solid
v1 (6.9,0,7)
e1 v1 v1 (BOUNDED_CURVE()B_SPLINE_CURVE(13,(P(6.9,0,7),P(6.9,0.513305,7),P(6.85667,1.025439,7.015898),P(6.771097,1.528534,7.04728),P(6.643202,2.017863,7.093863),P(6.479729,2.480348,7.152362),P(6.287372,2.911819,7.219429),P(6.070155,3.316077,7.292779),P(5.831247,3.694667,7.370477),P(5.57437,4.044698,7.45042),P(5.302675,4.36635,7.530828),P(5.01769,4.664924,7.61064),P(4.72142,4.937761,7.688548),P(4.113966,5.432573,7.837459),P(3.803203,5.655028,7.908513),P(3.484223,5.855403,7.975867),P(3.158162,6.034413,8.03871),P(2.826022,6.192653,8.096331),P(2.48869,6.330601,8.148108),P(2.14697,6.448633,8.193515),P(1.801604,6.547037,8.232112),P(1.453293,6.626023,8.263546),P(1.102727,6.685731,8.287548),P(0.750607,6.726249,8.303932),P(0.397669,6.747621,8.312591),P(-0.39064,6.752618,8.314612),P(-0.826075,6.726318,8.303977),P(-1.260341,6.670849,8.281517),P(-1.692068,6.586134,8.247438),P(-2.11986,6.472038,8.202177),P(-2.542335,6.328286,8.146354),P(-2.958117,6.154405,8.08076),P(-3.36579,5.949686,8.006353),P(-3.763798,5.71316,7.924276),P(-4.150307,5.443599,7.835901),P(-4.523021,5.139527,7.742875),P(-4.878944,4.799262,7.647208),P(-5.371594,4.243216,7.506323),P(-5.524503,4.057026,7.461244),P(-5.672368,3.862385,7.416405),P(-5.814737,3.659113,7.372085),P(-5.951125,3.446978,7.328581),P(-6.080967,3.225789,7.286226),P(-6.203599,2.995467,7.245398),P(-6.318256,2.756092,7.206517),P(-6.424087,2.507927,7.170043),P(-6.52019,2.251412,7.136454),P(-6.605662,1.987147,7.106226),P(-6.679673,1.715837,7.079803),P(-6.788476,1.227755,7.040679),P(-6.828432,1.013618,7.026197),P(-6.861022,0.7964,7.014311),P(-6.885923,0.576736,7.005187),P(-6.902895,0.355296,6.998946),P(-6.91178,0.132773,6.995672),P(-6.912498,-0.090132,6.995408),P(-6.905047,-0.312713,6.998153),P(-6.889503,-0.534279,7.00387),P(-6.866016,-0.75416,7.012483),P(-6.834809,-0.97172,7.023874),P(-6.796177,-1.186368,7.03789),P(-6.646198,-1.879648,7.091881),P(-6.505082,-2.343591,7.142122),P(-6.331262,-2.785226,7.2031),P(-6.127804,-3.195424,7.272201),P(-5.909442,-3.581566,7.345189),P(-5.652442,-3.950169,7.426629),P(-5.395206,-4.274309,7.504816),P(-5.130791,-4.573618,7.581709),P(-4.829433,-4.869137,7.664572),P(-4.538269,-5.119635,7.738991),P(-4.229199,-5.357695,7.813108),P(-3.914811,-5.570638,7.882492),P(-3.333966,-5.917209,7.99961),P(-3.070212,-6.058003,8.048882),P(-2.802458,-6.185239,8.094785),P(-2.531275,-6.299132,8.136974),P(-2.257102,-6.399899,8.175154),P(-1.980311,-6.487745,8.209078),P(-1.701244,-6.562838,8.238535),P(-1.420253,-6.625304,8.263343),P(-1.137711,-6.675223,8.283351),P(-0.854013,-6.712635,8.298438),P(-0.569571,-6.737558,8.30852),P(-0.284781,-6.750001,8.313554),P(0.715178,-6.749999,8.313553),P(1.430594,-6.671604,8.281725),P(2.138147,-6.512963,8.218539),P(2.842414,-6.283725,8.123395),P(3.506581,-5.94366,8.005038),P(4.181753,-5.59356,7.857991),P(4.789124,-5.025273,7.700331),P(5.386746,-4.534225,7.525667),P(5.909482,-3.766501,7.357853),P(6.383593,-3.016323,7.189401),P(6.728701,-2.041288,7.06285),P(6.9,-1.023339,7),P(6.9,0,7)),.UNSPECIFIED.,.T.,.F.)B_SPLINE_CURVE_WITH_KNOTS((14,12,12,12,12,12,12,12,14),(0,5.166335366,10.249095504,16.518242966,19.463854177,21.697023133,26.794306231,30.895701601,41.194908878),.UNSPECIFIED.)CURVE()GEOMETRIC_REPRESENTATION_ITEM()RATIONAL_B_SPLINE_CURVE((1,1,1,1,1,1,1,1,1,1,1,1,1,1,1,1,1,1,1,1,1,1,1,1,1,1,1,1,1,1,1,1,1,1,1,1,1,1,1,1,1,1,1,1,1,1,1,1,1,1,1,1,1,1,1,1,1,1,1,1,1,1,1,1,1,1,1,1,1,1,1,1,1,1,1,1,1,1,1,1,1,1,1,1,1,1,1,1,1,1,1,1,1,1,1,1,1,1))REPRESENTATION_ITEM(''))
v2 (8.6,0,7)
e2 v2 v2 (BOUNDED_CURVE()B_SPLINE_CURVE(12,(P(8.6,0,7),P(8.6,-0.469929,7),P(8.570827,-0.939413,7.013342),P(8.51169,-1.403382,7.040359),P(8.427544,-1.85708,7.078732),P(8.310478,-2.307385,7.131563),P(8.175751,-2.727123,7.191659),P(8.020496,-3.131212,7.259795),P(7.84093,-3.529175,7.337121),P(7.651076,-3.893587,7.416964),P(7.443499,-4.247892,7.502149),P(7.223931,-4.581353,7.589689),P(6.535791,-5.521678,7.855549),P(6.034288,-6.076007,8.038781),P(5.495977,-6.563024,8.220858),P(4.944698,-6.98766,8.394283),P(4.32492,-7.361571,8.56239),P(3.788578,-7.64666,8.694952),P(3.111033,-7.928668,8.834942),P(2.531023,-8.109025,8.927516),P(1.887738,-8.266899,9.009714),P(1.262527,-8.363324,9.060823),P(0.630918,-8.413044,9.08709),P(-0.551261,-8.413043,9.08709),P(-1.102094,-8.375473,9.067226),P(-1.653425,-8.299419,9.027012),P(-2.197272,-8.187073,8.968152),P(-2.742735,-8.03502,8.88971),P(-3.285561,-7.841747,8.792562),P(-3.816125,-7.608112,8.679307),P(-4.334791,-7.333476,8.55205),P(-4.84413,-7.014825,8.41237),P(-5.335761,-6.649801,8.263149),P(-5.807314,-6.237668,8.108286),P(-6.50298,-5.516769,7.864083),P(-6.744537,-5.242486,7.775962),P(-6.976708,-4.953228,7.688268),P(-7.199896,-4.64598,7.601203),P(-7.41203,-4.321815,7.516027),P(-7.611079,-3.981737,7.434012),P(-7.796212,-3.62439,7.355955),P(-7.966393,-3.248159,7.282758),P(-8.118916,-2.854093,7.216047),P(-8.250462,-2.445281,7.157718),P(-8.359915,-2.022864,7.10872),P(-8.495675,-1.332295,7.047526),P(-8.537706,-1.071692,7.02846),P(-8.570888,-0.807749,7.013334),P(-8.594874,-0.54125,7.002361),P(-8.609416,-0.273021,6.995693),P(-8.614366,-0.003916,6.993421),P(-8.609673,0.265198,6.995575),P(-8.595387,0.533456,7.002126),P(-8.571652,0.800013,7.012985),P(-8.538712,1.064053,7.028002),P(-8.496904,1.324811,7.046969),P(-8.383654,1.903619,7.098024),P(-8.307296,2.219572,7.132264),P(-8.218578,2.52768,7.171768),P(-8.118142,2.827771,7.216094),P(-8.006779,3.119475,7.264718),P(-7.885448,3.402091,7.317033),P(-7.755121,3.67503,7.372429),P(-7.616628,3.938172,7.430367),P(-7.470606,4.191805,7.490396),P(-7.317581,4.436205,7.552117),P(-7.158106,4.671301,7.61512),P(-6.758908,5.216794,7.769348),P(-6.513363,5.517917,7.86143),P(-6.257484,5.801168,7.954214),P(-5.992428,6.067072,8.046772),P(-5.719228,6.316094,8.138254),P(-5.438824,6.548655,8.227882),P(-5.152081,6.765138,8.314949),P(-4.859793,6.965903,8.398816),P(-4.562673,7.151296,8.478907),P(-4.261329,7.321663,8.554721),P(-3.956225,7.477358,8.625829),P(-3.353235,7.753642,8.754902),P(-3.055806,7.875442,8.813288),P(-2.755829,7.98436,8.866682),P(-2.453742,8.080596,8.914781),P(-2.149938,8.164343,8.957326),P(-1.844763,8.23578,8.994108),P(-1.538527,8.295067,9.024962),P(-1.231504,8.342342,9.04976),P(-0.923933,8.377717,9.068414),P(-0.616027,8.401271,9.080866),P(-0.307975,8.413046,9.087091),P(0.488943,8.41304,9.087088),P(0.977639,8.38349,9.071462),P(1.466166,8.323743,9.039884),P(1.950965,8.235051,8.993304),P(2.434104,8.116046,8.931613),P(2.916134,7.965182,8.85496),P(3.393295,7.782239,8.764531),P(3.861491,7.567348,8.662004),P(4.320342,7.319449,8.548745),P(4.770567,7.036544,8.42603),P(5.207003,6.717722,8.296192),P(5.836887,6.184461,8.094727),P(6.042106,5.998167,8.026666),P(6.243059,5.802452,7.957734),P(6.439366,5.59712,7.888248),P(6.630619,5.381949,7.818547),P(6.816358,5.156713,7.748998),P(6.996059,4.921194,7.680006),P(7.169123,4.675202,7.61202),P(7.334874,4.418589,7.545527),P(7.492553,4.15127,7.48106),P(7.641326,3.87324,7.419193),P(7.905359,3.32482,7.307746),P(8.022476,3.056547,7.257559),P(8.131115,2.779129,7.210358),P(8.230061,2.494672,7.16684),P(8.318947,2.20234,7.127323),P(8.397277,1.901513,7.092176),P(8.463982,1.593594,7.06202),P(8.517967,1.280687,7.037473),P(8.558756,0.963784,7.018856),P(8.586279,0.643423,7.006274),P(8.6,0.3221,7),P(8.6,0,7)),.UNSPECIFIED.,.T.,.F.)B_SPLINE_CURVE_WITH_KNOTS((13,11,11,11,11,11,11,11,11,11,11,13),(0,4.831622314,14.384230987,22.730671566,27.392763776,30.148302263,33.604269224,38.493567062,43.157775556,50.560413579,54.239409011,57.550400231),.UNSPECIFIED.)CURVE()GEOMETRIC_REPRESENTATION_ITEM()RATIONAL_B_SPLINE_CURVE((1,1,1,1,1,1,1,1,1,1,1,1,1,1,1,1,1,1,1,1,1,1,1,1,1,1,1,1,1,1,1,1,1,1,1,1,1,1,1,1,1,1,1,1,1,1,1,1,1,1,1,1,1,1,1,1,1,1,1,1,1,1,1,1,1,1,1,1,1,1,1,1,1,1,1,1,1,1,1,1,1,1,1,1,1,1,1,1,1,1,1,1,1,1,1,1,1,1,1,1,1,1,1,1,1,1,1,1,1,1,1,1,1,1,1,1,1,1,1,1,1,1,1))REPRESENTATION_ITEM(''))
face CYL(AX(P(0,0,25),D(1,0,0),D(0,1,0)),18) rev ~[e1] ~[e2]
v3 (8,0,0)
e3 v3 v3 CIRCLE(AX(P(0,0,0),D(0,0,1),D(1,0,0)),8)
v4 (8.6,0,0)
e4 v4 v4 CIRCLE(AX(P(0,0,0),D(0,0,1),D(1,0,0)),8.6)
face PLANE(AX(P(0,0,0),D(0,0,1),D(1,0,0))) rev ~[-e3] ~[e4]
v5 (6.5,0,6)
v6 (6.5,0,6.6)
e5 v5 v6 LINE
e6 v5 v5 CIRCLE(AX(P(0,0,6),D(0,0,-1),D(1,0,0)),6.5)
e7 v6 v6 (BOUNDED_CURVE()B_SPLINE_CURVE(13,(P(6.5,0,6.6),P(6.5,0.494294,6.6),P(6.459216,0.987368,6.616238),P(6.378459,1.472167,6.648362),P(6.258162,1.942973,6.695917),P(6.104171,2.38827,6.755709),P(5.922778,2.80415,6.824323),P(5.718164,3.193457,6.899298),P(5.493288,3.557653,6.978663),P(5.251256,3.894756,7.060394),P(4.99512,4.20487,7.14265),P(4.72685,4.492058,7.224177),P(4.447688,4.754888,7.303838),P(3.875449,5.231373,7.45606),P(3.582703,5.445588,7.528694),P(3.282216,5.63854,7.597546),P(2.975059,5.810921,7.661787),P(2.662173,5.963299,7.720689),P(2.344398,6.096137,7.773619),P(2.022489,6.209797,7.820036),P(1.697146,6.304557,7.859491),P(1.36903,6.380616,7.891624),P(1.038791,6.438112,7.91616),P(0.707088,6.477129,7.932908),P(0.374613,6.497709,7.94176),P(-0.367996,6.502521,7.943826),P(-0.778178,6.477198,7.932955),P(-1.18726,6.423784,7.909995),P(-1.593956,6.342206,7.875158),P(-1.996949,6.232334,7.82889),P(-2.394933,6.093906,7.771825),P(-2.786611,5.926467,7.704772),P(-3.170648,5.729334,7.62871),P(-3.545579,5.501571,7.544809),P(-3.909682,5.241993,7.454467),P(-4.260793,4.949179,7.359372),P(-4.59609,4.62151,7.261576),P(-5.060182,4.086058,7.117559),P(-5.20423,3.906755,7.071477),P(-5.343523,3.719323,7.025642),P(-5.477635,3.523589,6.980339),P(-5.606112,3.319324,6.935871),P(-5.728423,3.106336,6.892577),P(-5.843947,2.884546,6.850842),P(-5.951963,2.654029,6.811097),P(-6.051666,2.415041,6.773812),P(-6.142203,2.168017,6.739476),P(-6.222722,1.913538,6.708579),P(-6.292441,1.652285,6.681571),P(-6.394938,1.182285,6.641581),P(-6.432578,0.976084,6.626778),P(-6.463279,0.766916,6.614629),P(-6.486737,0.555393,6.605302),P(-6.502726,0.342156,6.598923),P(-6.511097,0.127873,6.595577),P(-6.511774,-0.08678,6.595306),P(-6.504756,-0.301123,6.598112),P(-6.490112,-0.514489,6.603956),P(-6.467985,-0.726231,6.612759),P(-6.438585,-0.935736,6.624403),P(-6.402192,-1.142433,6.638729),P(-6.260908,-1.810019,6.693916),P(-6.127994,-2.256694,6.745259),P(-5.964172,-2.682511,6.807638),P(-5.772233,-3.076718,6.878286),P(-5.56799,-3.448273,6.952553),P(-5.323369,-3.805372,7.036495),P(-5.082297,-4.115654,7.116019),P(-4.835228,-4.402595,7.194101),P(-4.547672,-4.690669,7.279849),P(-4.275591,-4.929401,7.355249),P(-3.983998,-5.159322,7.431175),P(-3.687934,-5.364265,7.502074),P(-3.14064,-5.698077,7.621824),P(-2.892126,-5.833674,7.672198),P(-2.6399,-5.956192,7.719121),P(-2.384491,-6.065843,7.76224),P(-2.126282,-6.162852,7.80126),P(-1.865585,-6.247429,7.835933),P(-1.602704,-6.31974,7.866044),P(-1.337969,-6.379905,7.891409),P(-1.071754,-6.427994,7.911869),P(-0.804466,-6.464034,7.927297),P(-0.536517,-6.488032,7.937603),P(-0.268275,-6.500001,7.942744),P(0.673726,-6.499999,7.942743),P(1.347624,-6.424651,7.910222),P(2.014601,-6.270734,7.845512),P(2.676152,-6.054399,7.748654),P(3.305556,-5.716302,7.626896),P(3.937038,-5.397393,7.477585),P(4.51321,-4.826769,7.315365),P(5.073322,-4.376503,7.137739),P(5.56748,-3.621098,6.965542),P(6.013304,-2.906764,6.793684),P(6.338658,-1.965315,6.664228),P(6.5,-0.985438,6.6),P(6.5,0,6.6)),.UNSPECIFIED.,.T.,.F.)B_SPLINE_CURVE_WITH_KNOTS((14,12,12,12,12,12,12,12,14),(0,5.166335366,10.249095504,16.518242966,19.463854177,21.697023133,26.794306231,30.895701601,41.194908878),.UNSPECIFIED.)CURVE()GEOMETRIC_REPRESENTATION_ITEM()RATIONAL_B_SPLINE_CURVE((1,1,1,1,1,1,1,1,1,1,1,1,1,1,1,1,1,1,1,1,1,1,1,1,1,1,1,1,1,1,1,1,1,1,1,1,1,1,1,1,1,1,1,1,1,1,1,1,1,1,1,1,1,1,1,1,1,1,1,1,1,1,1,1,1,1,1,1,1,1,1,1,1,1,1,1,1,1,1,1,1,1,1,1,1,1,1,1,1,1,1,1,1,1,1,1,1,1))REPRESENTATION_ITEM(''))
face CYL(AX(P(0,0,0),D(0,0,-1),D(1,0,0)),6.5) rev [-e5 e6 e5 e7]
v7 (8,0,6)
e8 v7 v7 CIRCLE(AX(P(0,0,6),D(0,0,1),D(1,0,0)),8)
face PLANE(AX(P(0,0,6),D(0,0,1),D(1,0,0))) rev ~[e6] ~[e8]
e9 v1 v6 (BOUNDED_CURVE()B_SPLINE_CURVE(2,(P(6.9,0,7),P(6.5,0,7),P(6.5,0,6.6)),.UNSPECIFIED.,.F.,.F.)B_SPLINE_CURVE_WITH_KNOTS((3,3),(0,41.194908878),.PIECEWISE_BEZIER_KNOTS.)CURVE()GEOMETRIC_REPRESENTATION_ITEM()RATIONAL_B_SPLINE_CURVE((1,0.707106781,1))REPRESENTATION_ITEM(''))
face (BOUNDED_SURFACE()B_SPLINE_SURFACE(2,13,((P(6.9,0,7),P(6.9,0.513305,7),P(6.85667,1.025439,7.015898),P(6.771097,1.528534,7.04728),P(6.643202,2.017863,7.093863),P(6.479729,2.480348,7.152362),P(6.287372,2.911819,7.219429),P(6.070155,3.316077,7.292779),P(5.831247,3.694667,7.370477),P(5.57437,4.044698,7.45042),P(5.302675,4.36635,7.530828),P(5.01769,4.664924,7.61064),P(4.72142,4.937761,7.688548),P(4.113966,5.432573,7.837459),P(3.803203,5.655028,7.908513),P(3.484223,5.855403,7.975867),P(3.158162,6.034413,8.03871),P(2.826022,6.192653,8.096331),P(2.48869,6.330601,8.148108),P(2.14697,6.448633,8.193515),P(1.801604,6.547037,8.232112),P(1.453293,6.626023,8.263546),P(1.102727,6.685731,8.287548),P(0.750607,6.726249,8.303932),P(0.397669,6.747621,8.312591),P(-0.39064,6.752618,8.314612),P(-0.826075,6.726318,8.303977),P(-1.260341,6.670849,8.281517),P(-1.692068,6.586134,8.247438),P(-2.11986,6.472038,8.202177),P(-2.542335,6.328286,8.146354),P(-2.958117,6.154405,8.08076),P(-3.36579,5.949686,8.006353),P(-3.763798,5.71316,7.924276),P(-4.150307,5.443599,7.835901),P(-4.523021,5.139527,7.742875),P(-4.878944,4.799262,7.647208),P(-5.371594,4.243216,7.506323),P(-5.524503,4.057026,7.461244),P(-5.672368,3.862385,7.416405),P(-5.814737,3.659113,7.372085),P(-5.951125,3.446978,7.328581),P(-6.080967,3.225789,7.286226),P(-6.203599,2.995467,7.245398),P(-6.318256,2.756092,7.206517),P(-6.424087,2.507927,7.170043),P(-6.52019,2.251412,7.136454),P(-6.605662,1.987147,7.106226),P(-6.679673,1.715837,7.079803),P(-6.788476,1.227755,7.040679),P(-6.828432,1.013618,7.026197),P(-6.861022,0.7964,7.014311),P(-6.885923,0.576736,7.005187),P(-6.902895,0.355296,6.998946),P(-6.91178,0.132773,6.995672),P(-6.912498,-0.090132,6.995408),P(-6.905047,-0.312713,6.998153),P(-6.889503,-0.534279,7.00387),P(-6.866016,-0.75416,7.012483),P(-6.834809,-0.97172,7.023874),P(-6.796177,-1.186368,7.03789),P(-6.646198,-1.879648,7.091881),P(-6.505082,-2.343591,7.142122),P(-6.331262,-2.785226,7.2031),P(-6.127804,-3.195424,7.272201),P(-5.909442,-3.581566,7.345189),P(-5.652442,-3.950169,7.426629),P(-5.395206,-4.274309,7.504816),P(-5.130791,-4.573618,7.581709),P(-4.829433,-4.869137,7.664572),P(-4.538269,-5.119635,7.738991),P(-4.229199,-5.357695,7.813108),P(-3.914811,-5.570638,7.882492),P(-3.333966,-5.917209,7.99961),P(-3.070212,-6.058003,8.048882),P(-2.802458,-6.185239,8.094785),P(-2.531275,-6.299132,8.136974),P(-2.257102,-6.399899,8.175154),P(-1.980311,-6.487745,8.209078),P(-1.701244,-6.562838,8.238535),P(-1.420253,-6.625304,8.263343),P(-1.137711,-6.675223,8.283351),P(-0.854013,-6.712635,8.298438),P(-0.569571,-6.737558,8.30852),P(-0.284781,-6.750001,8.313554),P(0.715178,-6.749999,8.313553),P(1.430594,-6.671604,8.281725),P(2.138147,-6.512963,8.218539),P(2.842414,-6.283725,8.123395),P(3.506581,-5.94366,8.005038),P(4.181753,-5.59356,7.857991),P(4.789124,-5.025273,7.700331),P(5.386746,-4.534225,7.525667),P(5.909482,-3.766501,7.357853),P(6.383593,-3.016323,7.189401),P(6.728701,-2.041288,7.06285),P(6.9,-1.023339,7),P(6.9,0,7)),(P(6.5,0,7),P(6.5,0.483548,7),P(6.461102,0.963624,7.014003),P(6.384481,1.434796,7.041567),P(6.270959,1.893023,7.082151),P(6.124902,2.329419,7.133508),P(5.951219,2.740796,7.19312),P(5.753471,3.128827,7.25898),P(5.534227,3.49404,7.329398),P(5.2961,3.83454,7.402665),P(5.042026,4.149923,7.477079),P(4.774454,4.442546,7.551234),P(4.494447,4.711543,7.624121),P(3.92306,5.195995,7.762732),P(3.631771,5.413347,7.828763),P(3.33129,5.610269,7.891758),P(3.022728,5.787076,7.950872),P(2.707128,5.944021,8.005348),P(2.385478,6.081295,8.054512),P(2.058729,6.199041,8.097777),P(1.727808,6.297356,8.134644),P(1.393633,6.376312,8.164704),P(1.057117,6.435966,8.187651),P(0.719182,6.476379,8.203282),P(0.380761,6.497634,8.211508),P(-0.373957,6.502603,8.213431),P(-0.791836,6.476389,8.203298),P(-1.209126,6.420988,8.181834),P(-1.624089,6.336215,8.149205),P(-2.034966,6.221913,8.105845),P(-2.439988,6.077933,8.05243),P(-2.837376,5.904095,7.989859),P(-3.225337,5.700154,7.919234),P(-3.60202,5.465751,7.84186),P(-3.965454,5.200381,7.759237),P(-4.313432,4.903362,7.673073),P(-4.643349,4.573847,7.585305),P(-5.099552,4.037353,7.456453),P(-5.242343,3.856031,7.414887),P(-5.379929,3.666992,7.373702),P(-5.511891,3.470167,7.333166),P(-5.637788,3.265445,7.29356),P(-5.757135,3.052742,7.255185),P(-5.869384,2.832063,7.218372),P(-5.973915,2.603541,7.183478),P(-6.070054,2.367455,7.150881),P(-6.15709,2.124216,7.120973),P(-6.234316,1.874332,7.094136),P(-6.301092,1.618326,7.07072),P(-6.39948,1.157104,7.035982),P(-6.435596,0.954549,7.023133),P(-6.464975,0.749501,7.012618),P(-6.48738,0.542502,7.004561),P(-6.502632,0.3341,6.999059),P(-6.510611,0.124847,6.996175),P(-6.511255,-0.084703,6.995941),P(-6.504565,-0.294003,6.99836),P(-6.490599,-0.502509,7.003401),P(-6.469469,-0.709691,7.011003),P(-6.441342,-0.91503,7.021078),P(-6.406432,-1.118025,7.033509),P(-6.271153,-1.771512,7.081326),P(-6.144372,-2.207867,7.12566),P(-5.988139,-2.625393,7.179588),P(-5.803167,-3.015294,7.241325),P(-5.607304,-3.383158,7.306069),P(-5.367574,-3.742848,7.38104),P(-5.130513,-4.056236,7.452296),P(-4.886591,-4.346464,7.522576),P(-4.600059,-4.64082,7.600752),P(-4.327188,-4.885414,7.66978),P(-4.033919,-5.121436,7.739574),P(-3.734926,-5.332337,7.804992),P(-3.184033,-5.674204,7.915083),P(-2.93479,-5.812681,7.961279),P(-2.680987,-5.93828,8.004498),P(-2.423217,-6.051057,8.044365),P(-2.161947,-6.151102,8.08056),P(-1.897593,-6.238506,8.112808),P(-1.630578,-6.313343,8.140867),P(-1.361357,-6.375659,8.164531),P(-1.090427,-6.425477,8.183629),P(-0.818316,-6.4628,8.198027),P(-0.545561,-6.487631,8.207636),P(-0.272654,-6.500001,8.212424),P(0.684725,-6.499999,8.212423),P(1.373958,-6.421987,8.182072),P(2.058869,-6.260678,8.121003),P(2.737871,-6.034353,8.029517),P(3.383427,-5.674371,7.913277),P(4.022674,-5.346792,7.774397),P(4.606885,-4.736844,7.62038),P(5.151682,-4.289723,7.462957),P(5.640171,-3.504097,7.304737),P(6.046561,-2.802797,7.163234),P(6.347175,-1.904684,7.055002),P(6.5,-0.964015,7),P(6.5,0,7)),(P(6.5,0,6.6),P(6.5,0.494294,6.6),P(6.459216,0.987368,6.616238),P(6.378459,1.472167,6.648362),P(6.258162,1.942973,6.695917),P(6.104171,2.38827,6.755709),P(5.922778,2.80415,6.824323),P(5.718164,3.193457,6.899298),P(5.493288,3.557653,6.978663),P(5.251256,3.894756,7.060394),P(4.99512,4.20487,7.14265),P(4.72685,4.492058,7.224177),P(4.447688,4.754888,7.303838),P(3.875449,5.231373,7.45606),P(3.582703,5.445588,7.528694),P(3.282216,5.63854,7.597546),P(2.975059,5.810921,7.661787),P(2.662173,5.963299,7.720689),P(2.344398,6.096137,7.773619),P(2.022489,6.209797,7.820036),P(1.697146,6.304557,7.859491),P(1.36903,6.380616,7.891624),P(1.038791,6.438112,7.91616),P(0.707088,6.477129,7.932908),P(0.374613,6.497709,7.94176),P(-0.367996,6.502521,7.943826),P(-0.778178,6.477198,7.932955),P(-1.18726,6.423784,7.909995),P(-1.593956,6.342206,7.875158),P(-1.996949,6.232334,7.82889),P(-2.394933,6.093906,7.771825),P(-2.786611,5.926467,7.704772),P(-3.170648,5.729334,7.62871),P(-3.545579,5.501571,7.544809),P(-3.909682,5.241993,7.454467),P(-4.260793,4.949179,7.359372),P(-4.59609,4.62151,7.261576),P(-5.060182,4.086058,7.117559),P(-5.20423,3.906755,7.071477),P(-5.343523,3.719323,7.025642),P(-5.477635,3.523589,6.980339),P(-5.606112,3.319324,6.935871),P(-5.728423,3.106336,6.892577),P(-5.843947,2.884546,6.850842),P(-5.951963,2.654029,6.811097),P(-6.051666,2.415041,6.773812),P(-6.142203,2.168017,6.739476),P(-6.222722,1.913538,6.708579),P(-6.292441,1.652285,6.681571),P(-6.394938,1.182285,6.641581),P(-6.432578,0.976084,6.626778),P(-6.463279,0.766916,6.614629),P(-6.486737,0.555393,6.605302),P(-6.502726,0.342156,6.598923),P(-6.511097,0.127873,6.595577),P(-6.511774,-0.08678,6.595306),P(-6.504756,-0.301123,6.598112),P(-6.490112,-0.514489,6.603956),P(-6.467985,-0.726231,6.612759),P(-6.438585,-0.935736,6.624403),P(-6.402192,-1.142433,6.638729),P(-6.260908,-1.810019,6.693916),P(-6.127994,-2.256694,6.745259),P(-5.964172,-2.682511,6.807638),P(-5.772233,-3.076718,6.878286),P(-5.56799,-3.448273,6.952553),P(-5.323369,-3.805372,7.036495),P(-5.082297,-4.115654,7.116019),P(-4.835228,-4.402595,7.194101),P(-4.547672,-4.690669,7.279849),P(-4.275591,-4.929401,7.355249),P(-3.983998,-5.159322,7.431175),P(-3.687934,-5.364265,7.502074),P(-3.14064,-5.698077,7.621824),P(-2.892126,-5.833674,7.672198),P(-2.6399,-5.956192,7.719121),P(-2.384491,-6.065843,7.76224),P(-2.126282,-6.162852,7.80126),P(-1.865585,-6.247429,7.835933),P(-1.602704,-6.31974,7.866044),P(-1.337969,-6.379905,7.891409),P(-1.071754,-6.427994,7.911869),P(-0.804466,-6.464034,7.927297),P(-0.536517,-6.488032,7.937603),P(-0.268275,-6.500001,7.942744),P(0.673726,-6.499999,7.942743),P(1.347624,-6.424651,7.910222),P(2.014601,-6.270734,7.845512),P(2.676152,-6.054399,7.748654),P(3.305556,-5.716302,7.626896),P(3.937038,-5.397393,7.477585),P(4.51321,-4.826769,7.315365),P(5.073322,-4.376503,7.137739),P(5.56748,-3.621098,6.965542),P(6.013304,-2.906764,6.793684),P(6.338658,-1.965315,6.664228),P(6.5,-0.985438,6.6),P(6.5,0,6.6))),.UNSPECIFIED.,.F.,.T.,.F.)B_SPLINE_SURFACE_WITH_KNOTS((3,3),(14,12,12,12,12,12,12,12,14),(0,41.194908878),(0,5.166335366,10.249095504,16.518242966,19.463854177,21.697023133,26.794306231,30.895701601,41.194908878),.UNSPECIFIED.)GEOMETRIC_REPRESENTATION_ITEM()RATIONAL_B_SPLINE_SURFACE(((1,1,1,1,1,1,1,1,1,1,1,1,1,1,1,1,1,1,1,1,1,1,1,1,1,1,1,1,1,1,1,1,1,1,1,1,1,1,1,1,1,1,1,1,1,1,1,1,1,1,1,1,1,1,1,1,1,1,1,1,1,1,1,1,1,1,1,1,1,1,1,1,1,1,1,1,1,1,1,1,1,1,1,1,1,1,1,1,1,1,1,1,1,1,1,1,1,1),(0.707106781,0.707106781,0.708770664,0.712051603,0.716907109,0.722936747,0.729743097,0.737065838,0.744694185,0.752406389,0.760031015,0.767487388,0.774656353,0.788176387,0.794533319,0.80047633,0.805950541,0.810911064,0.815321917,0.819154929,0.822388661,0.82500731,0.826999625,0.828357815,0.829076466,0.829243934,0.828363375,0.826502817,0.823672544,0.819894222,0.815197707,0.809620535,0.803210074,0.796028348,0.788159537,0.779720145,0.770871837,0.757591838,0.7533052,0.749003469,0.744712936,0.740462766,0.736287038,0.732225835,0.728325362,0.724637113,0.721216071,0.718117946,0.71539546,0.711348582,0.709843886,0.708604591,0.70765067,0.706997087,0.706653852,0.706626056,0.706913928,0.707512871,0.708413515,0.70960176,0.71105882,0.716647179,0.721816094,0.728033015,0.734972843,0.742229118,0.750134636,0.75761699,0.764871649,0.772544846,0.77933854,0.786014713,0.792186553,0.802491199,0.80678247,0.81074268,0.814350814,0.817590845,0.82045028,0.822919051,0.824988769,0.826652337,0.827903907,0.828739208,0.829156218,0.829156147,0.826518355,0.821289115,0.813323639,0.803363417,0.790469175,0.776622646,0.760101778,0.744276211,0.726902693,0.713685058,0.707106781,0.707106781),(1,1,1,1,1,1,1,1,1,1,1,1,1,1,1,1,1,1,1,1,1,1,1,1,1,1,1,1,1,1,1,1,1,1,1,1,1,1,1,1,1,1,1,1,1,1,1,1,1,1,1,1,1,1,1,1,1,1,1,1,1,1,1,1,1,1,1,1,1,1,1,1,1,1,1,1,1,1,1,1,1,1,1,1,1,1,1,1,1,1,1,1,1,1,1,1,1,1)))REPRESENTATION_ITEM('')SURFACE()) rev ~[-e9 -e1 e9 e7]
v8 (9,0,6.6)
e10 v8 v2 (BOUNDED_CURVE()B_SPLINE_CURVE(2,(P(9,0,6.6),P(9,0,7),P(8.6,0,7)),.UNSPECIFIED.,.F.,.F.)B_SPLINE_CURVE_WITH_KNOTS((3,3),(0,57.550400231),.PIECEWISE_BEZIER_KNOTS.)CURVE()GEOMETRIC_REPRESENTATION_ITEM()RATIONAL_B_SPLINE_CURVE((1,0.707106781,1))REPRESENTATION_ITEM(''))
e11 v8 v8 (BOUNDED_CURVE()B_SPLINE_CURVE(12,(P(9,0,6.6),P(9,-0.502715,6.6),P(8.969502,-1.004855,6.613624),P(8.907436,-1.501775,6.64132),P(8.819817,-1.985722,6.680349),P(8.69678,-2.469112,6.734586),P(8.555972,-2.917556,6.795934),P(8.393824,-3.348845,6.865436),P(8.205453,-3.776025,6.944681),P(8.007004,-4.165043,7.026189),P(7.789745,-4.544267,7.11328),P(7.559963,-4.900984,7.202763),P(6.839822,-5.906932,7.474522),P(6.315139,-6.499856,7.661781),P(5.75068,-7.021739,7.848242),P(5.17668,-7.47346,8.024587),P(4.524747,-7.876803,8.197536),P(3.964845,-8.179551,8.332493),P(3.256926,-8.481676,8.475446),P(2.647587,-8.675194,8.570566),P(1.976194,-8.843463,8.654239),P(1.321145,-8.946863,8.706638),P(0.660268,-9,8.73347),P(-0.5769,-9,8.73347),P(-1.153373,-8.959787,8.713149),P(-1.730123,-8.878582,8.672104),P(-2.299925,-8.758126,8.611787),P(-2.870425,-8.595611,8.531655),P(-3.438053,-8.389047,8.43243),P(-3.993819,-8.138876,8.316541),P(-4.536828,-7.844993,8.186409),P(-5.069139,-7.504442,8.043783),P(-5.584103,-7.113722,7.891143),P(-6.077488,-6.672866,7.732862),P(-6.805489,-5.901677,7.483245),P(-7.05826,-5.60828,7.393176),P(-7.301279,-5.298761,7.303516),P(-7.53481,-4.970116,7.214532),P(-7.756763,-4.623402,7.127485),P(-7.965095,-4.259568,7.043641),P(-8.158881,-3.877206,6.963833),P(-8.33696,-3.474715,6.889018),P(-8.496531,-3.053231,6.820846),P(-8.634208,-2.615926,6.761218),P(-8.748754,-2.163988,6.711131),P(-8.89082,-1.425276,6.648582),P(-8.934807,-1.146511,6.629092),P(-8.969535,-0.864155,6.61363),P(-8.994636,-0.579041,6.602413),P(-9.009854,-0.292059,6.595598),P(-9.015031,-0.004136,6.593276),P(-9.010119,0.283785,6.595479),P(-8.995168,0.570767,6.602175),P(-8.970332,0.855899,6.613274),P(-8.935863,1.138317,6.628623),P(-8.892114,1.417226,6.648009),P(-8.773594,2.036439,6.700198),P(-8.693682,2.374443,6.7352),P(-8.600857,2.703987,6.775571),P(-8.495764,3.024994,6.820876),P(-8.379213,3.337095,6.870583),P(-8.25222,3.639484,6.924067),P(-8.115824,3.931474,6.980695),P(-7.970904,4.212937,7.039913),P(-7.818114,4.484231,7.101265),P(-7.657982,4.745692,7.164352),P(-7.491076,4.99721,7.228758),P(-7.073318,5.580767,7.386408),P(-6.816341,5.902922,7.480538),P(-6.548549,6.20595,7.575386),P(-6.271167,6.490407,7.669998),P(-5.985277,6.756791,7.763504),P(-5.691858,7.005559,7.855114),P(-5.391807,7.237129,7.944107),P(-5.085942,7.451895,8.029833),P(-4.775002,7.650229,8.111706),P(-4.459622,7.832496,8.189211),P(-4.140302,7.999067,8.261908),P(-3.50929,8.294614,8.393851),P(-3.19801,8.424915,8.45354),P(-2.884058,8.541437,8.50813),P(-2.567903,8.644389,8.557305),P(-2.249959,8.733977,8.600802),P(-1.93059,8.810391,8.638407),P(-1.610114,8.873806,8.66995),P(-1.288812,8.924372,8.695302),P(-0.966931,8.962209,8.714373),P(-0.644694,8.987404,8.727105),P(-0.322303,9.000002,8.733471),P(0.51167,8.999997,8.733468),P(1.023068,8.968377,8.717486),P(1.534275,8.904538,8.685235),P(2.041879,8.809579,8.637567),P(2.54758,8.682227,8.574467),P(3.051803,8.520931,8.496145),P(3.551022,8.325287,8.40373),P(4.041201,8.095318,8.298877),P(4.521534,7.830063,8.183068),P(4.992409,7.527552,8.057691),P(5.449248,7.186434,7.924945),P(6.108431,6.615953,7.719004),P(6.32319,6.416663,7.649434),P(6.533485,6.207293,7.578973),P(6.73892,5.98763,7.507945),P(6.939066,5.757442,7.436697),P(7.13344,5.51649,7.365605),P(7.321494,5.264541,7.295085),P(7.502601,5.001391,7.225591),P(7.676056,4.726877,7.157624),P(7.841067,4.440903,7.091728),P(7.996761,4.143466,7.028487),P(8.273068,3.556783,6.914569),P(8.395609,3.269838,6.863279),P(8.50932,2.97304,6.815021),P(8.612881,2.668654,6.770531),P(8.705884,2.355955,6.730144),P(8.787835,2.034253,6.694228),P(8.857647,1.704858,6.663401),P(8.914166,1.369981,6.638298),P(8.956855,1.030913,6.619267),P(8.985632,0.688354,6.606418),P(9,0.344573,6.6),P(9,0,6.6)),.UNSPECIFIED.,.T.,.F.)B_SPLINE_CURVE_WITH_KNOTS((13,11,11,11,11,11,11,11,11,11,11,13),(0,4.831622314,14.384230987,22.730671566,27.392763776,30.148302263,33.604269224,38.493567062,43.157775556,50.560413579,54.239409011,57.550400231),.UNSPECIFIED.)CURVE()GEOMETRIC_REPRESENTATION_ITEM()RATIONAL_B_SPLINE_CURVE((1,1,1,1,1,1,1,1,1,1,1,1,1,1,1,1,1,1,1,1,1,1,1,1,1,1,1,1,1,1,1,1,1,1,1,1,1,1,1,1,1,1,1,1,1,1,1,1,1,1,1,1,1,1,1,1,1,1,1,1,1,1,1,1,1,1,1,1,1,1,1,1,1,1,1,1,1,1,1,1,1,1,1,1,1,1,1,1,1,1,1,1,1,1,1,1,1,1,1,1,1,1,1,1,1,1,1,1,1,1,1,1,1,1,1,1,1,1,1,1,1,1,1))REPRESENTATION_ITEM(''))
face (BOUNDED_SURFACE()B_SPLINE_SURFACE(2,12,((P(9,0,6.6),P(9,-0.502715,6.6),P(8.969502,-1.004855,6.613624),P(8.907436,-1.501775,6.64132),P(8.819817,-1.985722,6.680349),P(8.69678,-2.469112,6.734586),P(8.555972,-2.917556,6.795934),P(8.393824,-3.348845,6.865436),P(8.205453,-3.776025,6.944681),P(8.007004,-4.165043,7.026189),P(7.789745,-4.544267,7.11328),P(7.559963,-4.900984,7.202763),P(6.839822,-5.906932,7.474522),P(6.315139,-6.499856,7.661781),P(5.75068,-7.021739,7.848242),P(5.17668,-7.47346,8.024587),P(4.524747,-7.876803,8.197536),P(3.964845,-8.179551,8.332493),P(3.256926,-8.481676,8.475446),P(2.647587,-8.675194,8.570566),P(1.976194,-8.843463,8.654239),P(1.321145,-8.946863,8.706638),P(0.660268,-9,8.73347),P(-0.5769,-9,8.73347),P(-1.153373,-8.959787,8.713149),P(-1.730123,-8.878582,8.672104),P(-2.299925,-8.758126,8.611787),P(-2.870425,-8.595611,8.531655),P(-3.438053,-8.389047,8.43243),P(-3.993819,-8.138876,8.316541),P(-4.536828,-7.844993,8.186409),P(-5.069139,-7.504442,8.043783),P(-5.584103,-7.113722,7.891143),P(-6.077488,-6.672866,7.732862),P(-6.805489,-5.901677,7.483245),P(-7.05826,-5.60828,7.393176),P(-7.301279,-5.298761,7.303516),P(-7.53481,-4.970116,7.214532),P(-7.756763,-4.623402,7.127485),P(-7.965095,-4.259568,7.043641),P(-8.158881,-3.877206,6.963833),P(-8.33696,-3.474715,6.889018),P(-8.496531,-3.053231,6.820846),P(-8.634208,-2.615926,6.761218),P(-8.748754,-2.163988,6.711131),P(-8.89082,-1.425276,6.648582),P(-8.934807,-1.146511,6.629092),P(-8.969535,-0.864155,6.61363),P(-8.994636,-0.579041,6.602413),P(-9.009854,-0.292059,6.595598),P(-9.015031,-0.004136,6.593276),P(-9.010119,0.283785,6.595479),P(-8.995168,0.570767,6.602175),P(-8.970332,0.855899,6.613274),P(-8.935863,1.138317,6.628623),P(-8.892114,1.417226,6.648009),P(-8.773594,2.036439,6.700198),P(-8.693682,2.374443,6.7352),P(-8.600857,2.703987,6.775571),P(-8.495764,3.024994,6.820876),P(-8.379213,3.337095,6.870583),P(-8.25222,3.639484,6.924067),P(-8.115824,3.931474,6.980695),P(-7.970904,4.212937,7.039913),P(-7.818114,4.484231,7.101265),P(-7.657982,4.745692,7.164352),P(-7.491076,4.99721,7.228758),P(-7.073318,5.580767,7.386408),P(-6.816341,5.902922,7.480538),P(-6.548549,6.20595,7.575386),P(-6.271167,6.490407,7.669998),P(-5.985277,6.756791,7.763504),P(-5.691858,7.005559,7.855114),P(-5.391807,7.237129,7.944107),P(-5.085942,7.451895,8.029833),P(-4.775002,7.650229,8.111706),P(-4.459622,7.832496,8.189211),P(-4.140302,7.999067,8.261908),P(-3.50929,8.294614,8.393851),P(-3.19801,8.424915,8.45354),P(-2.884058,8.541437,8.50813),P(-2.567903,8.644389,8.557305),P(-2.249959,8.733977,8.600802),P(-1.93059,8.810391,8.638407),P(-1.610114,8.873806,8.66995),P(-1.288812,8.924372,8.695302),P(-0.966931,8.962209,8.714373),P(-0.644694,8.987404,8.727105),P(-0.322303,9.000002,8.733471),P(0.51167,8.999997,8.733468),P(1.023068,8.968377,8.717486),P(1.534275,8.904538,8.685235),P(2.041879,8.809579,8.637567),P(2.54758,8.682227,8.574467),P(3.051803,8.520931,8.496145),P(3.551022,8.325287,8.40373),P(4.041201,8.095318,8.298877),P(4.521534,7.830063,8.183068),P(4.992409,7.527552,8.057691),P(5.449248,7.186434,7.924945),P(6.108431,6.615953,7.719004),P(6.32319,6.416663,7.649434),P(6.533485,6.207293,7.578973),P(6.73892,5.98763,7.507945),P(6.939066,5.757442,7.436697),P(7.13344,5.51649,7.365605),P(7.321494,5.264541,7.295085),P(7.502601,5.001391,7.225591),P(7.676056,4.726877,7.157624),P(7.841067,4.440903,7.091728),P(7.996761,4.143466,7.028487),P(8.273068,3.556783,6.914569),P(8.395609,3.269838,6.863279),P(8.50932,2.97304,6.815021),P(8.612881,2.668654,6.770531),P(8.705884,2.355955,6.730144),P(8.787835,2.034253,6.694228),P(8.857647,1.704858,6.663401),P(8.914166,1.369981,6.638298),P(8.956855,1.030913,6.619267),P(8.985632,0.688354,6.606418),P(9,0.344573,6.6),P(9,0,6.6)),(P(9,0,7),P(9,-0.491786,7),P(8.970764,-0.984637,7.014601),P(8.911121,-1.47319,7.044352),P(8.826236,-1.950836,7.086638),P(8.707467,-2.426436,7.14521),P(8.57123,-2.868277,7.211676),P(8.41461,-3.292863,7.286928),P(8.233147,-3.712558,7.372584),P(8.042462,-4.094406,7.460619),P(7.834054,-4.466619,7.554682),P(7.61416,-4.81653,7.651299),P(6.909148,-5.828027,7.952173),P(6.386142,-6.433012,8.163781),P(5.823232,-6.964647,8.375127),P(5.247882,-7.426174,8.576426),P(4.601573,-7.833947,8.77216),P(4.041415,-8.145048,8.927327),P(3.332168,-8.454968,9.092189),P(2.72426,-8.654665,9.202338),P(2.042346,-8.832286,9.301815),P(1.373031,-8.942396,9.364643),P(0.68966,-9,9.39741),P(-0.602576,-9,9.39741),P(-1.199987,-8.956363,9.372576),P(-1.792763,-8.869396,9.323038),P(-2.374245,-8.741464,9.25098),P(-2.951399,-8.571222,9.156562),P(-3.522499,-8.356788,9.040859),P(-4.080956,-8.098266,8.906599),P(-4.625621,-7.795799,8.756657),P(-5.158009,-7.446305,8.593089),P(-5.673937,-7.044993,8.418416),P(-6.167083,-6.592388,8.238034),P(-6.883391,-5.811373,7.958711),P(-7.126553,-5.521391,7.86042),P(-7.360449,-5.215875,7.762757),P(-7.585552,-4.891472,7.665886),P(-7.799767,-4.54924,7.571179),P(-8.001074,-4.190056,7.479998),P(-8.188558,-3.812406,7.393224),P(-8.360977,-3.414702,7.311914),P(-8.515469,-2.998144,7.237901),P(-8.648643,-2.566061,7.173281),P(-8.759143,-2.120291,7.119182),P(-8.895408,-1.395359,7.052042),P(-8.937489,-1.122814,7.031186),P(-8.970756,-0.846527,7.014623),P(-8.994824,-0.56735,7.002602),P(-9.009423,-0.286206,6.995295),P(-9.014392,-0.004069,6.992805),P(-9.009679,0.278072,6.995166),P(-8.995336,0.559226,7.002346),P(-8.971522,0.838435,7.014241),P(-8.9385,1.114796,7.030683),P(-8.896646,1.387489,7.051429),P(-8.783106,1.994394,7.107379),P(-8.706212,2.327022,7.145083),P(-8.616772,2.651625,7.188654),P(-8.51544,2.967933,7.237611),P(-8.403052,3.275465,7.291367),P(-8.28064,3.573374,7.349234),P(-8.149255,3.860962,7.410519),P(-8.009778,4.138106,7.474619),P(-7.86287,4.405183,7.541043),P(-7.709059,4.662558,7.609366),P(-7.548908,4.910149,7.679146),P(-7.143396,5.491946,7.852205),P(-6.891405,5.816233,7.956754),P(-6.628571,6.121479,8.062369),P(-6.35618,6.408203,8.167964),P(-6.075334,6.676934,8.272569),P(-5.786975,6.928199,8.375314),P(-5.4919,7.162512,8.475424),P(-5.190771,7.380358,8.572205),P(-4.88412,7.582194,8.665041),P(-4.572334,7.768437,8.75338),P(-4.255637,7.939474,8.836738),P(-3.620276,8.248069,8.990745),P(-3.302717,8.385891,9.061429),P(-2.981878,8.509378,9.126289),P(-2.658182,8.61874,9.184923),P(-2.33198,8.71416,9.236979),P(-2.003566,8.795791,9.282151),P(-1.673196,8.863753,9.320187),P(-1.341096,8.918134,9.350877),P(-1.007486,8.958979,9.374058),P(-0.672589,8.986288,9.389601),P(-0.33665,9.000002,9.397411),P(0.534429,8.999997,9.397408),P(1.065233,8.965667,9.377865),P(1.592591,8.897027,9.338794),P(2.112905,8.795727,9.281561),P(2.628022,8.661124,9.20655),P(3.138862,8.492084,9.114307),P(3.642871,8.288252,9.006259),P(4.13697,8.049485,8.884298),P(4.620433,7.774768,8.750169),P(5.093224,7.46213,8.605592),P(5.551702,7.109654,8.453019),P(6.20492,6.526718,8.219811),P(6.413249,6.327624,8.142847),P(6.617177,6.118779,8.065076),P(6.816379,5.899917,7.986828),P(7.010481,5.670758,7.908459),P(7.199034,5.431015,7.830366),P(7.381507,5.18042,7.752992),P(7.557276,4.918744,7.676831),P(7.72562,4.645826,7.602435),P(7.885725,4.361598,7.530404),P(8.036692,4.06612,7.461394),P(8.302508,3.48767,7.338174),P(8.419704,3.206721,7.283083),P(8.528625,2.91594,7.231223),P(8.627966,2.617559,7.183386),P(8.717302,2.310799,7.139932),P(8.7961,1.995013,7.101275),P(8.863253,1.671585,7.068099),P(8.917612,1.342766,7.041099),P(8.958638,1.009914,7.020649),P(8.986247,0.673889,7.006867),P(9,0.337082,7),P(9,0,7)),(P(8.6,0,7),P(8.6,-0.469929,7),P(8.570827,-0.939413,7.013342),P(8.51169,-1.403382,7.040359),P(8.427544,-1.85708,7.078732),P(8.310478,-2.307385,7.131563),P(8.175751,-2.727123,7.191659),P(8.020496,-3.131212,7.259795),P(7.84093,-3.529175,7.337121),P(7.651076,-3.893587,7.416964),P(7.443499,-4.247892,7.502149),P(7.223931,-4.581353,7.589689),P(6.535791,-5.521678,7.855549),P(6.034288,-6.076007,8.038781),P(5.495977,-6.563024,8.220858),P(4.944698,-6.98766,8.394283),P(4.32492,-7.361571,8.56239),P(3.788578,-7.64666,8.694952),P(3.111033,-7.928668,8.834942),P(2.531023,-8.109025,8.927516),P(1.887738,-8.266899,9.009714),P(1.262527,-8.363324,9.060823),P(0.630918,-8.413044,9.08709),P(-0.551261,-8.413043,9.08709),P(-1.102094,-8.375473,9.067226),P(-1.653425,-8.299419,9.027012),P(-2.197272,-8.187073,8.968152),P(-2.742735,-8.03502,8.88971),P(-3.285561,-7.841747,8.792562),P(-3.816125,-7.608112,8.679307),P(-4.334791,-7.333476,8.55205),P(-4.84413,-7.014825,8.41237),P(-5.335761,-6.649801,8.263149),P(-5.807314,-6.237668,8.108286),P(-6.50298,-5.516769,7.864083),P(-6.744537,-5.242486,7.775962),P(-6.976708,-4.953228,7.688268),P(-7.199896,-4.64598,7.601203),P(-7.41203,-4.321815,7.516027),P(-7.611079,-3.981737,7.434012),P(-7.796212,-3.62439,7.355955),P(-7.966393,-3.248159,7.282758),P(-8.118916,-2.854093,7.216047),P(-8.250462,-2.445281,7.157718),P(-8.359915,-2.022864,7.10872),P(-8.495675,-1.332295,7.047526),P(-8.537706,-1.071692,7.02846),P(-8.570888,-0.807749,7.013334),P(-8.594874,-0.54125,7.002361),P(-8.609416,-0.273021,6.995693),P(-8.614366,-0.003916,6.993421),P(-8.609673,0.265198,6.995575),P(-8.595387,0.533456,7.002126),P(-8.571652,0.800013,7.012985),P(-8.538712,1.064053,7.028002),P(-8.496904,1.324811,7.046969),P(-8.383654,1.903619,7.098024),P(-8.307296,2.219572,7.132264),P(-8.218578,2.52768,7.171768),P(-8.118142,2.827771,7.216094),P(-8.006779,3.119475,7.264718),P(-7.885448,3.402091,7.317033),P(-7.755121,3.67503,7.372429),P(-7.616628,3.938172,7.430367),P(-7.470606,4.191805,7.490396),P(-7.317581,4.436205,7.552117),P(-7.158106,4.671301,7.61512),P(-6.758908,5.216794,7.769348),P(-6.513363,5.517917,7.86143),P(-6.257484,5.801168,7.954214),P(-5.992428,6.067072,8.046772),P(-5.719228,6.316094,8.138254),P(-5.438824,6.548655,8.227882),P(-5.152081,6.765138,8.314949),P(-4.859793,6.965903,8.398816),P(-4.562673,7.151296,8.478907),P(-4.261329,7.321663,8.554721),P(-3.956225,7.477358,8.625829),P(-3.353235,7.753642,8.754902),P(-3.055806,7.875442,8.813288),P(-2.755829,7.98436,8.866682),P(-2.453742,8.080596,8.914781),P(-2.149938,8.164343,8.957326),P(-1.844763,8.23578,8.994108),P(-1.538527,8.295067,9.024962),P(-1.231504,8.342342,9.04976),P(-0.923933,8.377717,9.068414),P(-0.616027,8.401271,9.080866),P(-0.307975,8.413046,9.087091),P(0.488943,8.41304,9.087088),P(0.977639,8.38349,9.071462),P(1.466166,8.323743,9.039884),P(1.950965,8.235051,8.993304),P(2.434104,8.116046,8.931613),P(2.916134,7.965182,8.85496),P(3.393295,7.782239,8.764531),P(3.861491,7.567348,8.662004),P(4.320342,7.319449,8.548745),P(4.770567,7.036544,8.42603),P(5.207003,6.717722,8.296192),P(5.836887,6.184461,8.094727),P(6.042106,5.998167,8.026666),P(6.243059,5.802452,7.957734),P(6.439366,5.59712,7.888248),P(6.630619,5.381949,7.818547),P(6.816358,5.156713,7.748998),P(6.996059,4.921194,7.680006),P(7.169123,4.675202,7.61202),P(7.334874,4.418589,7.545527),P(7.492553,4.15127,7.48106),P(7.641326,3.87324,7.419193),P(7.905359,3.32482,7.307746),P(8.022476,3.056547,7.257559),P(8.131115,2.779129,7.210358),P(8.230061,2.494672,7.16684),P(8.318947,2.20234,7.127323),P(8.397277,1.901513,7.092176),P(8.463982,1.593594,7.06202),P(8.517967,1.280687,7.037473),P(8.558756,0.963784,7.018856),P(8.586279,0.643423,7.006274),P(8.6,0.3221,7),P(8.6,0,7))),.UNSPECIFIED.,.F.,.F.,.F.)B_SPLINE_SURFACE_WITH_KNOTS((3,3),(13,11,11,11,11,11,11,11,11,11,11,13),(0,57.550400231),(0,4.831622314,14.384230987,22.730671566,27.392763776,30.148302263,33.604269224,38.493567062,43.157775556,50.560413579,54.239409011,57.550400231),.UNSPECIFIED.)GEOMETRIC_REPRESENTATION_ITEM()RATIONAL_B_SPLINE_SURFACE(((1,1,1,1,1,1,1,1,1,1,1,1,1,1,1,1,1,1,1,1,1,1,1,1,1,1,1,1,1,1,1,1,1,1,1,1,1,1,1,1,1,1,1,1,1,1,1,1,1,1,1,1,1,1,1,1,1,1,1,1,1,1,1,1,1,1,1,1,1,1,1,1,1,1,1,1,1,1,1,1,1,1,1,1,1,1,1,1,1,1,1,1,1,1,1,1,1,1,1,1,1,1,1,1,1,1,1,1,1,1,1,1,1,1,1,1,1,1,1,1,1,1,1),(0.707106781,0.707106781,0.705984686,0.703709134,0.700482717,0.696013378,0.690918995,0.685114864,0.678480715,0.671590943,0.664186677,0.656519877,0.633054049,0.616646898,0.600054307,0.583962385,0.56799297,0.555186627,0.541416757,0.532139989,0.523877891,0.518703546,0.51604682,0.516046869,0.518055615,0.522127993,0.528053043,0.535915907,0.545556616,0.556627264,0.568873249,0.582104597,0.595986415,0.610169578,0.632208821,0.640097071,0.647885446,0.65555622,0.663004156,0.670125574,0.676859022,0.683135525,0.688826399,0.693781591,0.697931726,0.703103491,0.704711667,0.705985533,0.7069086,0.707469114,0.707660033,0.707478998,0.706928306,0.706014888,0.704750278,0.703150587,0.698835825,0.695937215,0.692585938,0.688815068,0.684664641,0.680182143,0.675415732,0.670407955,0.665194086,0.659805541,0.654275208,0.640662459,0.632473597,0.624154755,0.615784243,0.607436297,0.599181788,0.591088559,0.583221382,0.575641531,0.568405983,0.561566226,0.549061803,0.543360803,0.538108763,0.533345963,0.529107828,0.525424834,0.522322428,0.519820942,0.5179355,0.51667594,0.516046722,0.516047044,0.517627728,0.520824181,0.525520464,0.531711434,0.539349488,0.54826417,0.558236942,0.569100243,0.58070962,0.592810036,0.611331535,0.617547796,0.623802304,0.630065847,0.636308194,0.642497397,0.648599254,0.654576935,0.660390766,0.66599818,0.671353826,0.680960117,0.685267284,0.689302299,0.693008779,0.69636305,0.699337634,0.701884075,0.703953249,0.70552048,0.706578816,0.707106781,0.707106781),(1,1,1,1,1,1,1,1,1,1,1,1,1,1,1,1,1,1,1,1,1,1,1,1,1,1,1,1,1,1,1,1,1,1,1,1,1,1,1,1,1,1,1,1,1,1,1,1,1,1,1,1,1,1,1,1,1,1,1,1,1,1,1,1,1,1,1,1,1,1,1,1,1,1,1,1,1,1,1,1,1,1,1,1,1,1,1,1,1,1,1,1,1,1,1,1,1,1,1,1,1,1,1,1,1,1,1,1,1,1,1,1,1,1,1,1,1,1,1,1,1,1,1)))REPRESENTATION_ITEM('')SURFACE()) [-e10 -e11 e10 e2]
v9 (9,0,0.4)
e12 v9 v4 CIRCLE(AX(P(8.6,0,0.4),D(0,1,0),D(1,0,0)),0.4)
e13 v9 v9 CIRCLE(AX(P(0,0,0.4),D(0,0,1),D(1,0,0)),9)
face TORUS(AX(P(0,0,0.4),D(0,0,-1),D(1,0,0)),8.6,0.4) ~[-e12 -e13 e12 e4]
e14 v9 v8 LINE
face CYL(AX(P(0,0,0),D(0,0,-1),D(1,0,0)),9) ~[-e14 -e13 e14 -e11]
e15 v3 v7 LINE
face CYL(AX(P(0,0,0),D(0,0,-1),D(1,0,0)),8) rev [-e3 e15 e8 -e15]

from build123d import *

# Parameters (mm, degrees)
SKETCH_R        = 9
SKETCH_R_2      = 6.5
PAD_DEPTH       = 10
SKETCH001_R     = 18
POCKET_DEPTH    = 9
SKETCH002_R     = 8
POCKET001_DEPTH = 6
FILLET_R        = 0.4
FILLET001_R     = 0.4


with BuildPart() as part:
    # Sketch → Pad (new body)
    with BuildSketch(Plane.XY):
        Circle(SKETCH_R)
        Circle(SKETCH_R_2, mode=Mode.SUBTRACT)
    extrude(amount=PAD_DEPTH)

    # Sketch001 → Pocket (cut, symmetric)
    with BuildSketch(Plane.YZ):
        with Locations((0, 25)):
            Circle(SKETCH001_R)
    extrude(amount=POCKET_DEPTH, both=True, mode=Mode.SUBTRACT)

    # Sketch002 → Pocket001 (cut)
    with BuildSketch(Plane.XY):
        Circle(SKETCH002_R)
    extrude(amount=POCKET001_DEPTH, mode=Mode.SUBTRACT)

    # Fillet
    fillet_edges = [part.edges().sort_by_distance(p)[0] for p in [
        (0, 9, 9.411543),
        (-6.5, 0, 7),
        (0, -9, 9.411543),
    ]]
    fillet(fillet_edges, radius=FILLET_R)

    # Fillet001
    fillet001_edges = [part.edges().sort_by_distance(p)[0] for p in [
        (-9, 0, 0),
    ]]
    fillet(fillet001_edges, radius=FILLET001_R)


solid = part.part
